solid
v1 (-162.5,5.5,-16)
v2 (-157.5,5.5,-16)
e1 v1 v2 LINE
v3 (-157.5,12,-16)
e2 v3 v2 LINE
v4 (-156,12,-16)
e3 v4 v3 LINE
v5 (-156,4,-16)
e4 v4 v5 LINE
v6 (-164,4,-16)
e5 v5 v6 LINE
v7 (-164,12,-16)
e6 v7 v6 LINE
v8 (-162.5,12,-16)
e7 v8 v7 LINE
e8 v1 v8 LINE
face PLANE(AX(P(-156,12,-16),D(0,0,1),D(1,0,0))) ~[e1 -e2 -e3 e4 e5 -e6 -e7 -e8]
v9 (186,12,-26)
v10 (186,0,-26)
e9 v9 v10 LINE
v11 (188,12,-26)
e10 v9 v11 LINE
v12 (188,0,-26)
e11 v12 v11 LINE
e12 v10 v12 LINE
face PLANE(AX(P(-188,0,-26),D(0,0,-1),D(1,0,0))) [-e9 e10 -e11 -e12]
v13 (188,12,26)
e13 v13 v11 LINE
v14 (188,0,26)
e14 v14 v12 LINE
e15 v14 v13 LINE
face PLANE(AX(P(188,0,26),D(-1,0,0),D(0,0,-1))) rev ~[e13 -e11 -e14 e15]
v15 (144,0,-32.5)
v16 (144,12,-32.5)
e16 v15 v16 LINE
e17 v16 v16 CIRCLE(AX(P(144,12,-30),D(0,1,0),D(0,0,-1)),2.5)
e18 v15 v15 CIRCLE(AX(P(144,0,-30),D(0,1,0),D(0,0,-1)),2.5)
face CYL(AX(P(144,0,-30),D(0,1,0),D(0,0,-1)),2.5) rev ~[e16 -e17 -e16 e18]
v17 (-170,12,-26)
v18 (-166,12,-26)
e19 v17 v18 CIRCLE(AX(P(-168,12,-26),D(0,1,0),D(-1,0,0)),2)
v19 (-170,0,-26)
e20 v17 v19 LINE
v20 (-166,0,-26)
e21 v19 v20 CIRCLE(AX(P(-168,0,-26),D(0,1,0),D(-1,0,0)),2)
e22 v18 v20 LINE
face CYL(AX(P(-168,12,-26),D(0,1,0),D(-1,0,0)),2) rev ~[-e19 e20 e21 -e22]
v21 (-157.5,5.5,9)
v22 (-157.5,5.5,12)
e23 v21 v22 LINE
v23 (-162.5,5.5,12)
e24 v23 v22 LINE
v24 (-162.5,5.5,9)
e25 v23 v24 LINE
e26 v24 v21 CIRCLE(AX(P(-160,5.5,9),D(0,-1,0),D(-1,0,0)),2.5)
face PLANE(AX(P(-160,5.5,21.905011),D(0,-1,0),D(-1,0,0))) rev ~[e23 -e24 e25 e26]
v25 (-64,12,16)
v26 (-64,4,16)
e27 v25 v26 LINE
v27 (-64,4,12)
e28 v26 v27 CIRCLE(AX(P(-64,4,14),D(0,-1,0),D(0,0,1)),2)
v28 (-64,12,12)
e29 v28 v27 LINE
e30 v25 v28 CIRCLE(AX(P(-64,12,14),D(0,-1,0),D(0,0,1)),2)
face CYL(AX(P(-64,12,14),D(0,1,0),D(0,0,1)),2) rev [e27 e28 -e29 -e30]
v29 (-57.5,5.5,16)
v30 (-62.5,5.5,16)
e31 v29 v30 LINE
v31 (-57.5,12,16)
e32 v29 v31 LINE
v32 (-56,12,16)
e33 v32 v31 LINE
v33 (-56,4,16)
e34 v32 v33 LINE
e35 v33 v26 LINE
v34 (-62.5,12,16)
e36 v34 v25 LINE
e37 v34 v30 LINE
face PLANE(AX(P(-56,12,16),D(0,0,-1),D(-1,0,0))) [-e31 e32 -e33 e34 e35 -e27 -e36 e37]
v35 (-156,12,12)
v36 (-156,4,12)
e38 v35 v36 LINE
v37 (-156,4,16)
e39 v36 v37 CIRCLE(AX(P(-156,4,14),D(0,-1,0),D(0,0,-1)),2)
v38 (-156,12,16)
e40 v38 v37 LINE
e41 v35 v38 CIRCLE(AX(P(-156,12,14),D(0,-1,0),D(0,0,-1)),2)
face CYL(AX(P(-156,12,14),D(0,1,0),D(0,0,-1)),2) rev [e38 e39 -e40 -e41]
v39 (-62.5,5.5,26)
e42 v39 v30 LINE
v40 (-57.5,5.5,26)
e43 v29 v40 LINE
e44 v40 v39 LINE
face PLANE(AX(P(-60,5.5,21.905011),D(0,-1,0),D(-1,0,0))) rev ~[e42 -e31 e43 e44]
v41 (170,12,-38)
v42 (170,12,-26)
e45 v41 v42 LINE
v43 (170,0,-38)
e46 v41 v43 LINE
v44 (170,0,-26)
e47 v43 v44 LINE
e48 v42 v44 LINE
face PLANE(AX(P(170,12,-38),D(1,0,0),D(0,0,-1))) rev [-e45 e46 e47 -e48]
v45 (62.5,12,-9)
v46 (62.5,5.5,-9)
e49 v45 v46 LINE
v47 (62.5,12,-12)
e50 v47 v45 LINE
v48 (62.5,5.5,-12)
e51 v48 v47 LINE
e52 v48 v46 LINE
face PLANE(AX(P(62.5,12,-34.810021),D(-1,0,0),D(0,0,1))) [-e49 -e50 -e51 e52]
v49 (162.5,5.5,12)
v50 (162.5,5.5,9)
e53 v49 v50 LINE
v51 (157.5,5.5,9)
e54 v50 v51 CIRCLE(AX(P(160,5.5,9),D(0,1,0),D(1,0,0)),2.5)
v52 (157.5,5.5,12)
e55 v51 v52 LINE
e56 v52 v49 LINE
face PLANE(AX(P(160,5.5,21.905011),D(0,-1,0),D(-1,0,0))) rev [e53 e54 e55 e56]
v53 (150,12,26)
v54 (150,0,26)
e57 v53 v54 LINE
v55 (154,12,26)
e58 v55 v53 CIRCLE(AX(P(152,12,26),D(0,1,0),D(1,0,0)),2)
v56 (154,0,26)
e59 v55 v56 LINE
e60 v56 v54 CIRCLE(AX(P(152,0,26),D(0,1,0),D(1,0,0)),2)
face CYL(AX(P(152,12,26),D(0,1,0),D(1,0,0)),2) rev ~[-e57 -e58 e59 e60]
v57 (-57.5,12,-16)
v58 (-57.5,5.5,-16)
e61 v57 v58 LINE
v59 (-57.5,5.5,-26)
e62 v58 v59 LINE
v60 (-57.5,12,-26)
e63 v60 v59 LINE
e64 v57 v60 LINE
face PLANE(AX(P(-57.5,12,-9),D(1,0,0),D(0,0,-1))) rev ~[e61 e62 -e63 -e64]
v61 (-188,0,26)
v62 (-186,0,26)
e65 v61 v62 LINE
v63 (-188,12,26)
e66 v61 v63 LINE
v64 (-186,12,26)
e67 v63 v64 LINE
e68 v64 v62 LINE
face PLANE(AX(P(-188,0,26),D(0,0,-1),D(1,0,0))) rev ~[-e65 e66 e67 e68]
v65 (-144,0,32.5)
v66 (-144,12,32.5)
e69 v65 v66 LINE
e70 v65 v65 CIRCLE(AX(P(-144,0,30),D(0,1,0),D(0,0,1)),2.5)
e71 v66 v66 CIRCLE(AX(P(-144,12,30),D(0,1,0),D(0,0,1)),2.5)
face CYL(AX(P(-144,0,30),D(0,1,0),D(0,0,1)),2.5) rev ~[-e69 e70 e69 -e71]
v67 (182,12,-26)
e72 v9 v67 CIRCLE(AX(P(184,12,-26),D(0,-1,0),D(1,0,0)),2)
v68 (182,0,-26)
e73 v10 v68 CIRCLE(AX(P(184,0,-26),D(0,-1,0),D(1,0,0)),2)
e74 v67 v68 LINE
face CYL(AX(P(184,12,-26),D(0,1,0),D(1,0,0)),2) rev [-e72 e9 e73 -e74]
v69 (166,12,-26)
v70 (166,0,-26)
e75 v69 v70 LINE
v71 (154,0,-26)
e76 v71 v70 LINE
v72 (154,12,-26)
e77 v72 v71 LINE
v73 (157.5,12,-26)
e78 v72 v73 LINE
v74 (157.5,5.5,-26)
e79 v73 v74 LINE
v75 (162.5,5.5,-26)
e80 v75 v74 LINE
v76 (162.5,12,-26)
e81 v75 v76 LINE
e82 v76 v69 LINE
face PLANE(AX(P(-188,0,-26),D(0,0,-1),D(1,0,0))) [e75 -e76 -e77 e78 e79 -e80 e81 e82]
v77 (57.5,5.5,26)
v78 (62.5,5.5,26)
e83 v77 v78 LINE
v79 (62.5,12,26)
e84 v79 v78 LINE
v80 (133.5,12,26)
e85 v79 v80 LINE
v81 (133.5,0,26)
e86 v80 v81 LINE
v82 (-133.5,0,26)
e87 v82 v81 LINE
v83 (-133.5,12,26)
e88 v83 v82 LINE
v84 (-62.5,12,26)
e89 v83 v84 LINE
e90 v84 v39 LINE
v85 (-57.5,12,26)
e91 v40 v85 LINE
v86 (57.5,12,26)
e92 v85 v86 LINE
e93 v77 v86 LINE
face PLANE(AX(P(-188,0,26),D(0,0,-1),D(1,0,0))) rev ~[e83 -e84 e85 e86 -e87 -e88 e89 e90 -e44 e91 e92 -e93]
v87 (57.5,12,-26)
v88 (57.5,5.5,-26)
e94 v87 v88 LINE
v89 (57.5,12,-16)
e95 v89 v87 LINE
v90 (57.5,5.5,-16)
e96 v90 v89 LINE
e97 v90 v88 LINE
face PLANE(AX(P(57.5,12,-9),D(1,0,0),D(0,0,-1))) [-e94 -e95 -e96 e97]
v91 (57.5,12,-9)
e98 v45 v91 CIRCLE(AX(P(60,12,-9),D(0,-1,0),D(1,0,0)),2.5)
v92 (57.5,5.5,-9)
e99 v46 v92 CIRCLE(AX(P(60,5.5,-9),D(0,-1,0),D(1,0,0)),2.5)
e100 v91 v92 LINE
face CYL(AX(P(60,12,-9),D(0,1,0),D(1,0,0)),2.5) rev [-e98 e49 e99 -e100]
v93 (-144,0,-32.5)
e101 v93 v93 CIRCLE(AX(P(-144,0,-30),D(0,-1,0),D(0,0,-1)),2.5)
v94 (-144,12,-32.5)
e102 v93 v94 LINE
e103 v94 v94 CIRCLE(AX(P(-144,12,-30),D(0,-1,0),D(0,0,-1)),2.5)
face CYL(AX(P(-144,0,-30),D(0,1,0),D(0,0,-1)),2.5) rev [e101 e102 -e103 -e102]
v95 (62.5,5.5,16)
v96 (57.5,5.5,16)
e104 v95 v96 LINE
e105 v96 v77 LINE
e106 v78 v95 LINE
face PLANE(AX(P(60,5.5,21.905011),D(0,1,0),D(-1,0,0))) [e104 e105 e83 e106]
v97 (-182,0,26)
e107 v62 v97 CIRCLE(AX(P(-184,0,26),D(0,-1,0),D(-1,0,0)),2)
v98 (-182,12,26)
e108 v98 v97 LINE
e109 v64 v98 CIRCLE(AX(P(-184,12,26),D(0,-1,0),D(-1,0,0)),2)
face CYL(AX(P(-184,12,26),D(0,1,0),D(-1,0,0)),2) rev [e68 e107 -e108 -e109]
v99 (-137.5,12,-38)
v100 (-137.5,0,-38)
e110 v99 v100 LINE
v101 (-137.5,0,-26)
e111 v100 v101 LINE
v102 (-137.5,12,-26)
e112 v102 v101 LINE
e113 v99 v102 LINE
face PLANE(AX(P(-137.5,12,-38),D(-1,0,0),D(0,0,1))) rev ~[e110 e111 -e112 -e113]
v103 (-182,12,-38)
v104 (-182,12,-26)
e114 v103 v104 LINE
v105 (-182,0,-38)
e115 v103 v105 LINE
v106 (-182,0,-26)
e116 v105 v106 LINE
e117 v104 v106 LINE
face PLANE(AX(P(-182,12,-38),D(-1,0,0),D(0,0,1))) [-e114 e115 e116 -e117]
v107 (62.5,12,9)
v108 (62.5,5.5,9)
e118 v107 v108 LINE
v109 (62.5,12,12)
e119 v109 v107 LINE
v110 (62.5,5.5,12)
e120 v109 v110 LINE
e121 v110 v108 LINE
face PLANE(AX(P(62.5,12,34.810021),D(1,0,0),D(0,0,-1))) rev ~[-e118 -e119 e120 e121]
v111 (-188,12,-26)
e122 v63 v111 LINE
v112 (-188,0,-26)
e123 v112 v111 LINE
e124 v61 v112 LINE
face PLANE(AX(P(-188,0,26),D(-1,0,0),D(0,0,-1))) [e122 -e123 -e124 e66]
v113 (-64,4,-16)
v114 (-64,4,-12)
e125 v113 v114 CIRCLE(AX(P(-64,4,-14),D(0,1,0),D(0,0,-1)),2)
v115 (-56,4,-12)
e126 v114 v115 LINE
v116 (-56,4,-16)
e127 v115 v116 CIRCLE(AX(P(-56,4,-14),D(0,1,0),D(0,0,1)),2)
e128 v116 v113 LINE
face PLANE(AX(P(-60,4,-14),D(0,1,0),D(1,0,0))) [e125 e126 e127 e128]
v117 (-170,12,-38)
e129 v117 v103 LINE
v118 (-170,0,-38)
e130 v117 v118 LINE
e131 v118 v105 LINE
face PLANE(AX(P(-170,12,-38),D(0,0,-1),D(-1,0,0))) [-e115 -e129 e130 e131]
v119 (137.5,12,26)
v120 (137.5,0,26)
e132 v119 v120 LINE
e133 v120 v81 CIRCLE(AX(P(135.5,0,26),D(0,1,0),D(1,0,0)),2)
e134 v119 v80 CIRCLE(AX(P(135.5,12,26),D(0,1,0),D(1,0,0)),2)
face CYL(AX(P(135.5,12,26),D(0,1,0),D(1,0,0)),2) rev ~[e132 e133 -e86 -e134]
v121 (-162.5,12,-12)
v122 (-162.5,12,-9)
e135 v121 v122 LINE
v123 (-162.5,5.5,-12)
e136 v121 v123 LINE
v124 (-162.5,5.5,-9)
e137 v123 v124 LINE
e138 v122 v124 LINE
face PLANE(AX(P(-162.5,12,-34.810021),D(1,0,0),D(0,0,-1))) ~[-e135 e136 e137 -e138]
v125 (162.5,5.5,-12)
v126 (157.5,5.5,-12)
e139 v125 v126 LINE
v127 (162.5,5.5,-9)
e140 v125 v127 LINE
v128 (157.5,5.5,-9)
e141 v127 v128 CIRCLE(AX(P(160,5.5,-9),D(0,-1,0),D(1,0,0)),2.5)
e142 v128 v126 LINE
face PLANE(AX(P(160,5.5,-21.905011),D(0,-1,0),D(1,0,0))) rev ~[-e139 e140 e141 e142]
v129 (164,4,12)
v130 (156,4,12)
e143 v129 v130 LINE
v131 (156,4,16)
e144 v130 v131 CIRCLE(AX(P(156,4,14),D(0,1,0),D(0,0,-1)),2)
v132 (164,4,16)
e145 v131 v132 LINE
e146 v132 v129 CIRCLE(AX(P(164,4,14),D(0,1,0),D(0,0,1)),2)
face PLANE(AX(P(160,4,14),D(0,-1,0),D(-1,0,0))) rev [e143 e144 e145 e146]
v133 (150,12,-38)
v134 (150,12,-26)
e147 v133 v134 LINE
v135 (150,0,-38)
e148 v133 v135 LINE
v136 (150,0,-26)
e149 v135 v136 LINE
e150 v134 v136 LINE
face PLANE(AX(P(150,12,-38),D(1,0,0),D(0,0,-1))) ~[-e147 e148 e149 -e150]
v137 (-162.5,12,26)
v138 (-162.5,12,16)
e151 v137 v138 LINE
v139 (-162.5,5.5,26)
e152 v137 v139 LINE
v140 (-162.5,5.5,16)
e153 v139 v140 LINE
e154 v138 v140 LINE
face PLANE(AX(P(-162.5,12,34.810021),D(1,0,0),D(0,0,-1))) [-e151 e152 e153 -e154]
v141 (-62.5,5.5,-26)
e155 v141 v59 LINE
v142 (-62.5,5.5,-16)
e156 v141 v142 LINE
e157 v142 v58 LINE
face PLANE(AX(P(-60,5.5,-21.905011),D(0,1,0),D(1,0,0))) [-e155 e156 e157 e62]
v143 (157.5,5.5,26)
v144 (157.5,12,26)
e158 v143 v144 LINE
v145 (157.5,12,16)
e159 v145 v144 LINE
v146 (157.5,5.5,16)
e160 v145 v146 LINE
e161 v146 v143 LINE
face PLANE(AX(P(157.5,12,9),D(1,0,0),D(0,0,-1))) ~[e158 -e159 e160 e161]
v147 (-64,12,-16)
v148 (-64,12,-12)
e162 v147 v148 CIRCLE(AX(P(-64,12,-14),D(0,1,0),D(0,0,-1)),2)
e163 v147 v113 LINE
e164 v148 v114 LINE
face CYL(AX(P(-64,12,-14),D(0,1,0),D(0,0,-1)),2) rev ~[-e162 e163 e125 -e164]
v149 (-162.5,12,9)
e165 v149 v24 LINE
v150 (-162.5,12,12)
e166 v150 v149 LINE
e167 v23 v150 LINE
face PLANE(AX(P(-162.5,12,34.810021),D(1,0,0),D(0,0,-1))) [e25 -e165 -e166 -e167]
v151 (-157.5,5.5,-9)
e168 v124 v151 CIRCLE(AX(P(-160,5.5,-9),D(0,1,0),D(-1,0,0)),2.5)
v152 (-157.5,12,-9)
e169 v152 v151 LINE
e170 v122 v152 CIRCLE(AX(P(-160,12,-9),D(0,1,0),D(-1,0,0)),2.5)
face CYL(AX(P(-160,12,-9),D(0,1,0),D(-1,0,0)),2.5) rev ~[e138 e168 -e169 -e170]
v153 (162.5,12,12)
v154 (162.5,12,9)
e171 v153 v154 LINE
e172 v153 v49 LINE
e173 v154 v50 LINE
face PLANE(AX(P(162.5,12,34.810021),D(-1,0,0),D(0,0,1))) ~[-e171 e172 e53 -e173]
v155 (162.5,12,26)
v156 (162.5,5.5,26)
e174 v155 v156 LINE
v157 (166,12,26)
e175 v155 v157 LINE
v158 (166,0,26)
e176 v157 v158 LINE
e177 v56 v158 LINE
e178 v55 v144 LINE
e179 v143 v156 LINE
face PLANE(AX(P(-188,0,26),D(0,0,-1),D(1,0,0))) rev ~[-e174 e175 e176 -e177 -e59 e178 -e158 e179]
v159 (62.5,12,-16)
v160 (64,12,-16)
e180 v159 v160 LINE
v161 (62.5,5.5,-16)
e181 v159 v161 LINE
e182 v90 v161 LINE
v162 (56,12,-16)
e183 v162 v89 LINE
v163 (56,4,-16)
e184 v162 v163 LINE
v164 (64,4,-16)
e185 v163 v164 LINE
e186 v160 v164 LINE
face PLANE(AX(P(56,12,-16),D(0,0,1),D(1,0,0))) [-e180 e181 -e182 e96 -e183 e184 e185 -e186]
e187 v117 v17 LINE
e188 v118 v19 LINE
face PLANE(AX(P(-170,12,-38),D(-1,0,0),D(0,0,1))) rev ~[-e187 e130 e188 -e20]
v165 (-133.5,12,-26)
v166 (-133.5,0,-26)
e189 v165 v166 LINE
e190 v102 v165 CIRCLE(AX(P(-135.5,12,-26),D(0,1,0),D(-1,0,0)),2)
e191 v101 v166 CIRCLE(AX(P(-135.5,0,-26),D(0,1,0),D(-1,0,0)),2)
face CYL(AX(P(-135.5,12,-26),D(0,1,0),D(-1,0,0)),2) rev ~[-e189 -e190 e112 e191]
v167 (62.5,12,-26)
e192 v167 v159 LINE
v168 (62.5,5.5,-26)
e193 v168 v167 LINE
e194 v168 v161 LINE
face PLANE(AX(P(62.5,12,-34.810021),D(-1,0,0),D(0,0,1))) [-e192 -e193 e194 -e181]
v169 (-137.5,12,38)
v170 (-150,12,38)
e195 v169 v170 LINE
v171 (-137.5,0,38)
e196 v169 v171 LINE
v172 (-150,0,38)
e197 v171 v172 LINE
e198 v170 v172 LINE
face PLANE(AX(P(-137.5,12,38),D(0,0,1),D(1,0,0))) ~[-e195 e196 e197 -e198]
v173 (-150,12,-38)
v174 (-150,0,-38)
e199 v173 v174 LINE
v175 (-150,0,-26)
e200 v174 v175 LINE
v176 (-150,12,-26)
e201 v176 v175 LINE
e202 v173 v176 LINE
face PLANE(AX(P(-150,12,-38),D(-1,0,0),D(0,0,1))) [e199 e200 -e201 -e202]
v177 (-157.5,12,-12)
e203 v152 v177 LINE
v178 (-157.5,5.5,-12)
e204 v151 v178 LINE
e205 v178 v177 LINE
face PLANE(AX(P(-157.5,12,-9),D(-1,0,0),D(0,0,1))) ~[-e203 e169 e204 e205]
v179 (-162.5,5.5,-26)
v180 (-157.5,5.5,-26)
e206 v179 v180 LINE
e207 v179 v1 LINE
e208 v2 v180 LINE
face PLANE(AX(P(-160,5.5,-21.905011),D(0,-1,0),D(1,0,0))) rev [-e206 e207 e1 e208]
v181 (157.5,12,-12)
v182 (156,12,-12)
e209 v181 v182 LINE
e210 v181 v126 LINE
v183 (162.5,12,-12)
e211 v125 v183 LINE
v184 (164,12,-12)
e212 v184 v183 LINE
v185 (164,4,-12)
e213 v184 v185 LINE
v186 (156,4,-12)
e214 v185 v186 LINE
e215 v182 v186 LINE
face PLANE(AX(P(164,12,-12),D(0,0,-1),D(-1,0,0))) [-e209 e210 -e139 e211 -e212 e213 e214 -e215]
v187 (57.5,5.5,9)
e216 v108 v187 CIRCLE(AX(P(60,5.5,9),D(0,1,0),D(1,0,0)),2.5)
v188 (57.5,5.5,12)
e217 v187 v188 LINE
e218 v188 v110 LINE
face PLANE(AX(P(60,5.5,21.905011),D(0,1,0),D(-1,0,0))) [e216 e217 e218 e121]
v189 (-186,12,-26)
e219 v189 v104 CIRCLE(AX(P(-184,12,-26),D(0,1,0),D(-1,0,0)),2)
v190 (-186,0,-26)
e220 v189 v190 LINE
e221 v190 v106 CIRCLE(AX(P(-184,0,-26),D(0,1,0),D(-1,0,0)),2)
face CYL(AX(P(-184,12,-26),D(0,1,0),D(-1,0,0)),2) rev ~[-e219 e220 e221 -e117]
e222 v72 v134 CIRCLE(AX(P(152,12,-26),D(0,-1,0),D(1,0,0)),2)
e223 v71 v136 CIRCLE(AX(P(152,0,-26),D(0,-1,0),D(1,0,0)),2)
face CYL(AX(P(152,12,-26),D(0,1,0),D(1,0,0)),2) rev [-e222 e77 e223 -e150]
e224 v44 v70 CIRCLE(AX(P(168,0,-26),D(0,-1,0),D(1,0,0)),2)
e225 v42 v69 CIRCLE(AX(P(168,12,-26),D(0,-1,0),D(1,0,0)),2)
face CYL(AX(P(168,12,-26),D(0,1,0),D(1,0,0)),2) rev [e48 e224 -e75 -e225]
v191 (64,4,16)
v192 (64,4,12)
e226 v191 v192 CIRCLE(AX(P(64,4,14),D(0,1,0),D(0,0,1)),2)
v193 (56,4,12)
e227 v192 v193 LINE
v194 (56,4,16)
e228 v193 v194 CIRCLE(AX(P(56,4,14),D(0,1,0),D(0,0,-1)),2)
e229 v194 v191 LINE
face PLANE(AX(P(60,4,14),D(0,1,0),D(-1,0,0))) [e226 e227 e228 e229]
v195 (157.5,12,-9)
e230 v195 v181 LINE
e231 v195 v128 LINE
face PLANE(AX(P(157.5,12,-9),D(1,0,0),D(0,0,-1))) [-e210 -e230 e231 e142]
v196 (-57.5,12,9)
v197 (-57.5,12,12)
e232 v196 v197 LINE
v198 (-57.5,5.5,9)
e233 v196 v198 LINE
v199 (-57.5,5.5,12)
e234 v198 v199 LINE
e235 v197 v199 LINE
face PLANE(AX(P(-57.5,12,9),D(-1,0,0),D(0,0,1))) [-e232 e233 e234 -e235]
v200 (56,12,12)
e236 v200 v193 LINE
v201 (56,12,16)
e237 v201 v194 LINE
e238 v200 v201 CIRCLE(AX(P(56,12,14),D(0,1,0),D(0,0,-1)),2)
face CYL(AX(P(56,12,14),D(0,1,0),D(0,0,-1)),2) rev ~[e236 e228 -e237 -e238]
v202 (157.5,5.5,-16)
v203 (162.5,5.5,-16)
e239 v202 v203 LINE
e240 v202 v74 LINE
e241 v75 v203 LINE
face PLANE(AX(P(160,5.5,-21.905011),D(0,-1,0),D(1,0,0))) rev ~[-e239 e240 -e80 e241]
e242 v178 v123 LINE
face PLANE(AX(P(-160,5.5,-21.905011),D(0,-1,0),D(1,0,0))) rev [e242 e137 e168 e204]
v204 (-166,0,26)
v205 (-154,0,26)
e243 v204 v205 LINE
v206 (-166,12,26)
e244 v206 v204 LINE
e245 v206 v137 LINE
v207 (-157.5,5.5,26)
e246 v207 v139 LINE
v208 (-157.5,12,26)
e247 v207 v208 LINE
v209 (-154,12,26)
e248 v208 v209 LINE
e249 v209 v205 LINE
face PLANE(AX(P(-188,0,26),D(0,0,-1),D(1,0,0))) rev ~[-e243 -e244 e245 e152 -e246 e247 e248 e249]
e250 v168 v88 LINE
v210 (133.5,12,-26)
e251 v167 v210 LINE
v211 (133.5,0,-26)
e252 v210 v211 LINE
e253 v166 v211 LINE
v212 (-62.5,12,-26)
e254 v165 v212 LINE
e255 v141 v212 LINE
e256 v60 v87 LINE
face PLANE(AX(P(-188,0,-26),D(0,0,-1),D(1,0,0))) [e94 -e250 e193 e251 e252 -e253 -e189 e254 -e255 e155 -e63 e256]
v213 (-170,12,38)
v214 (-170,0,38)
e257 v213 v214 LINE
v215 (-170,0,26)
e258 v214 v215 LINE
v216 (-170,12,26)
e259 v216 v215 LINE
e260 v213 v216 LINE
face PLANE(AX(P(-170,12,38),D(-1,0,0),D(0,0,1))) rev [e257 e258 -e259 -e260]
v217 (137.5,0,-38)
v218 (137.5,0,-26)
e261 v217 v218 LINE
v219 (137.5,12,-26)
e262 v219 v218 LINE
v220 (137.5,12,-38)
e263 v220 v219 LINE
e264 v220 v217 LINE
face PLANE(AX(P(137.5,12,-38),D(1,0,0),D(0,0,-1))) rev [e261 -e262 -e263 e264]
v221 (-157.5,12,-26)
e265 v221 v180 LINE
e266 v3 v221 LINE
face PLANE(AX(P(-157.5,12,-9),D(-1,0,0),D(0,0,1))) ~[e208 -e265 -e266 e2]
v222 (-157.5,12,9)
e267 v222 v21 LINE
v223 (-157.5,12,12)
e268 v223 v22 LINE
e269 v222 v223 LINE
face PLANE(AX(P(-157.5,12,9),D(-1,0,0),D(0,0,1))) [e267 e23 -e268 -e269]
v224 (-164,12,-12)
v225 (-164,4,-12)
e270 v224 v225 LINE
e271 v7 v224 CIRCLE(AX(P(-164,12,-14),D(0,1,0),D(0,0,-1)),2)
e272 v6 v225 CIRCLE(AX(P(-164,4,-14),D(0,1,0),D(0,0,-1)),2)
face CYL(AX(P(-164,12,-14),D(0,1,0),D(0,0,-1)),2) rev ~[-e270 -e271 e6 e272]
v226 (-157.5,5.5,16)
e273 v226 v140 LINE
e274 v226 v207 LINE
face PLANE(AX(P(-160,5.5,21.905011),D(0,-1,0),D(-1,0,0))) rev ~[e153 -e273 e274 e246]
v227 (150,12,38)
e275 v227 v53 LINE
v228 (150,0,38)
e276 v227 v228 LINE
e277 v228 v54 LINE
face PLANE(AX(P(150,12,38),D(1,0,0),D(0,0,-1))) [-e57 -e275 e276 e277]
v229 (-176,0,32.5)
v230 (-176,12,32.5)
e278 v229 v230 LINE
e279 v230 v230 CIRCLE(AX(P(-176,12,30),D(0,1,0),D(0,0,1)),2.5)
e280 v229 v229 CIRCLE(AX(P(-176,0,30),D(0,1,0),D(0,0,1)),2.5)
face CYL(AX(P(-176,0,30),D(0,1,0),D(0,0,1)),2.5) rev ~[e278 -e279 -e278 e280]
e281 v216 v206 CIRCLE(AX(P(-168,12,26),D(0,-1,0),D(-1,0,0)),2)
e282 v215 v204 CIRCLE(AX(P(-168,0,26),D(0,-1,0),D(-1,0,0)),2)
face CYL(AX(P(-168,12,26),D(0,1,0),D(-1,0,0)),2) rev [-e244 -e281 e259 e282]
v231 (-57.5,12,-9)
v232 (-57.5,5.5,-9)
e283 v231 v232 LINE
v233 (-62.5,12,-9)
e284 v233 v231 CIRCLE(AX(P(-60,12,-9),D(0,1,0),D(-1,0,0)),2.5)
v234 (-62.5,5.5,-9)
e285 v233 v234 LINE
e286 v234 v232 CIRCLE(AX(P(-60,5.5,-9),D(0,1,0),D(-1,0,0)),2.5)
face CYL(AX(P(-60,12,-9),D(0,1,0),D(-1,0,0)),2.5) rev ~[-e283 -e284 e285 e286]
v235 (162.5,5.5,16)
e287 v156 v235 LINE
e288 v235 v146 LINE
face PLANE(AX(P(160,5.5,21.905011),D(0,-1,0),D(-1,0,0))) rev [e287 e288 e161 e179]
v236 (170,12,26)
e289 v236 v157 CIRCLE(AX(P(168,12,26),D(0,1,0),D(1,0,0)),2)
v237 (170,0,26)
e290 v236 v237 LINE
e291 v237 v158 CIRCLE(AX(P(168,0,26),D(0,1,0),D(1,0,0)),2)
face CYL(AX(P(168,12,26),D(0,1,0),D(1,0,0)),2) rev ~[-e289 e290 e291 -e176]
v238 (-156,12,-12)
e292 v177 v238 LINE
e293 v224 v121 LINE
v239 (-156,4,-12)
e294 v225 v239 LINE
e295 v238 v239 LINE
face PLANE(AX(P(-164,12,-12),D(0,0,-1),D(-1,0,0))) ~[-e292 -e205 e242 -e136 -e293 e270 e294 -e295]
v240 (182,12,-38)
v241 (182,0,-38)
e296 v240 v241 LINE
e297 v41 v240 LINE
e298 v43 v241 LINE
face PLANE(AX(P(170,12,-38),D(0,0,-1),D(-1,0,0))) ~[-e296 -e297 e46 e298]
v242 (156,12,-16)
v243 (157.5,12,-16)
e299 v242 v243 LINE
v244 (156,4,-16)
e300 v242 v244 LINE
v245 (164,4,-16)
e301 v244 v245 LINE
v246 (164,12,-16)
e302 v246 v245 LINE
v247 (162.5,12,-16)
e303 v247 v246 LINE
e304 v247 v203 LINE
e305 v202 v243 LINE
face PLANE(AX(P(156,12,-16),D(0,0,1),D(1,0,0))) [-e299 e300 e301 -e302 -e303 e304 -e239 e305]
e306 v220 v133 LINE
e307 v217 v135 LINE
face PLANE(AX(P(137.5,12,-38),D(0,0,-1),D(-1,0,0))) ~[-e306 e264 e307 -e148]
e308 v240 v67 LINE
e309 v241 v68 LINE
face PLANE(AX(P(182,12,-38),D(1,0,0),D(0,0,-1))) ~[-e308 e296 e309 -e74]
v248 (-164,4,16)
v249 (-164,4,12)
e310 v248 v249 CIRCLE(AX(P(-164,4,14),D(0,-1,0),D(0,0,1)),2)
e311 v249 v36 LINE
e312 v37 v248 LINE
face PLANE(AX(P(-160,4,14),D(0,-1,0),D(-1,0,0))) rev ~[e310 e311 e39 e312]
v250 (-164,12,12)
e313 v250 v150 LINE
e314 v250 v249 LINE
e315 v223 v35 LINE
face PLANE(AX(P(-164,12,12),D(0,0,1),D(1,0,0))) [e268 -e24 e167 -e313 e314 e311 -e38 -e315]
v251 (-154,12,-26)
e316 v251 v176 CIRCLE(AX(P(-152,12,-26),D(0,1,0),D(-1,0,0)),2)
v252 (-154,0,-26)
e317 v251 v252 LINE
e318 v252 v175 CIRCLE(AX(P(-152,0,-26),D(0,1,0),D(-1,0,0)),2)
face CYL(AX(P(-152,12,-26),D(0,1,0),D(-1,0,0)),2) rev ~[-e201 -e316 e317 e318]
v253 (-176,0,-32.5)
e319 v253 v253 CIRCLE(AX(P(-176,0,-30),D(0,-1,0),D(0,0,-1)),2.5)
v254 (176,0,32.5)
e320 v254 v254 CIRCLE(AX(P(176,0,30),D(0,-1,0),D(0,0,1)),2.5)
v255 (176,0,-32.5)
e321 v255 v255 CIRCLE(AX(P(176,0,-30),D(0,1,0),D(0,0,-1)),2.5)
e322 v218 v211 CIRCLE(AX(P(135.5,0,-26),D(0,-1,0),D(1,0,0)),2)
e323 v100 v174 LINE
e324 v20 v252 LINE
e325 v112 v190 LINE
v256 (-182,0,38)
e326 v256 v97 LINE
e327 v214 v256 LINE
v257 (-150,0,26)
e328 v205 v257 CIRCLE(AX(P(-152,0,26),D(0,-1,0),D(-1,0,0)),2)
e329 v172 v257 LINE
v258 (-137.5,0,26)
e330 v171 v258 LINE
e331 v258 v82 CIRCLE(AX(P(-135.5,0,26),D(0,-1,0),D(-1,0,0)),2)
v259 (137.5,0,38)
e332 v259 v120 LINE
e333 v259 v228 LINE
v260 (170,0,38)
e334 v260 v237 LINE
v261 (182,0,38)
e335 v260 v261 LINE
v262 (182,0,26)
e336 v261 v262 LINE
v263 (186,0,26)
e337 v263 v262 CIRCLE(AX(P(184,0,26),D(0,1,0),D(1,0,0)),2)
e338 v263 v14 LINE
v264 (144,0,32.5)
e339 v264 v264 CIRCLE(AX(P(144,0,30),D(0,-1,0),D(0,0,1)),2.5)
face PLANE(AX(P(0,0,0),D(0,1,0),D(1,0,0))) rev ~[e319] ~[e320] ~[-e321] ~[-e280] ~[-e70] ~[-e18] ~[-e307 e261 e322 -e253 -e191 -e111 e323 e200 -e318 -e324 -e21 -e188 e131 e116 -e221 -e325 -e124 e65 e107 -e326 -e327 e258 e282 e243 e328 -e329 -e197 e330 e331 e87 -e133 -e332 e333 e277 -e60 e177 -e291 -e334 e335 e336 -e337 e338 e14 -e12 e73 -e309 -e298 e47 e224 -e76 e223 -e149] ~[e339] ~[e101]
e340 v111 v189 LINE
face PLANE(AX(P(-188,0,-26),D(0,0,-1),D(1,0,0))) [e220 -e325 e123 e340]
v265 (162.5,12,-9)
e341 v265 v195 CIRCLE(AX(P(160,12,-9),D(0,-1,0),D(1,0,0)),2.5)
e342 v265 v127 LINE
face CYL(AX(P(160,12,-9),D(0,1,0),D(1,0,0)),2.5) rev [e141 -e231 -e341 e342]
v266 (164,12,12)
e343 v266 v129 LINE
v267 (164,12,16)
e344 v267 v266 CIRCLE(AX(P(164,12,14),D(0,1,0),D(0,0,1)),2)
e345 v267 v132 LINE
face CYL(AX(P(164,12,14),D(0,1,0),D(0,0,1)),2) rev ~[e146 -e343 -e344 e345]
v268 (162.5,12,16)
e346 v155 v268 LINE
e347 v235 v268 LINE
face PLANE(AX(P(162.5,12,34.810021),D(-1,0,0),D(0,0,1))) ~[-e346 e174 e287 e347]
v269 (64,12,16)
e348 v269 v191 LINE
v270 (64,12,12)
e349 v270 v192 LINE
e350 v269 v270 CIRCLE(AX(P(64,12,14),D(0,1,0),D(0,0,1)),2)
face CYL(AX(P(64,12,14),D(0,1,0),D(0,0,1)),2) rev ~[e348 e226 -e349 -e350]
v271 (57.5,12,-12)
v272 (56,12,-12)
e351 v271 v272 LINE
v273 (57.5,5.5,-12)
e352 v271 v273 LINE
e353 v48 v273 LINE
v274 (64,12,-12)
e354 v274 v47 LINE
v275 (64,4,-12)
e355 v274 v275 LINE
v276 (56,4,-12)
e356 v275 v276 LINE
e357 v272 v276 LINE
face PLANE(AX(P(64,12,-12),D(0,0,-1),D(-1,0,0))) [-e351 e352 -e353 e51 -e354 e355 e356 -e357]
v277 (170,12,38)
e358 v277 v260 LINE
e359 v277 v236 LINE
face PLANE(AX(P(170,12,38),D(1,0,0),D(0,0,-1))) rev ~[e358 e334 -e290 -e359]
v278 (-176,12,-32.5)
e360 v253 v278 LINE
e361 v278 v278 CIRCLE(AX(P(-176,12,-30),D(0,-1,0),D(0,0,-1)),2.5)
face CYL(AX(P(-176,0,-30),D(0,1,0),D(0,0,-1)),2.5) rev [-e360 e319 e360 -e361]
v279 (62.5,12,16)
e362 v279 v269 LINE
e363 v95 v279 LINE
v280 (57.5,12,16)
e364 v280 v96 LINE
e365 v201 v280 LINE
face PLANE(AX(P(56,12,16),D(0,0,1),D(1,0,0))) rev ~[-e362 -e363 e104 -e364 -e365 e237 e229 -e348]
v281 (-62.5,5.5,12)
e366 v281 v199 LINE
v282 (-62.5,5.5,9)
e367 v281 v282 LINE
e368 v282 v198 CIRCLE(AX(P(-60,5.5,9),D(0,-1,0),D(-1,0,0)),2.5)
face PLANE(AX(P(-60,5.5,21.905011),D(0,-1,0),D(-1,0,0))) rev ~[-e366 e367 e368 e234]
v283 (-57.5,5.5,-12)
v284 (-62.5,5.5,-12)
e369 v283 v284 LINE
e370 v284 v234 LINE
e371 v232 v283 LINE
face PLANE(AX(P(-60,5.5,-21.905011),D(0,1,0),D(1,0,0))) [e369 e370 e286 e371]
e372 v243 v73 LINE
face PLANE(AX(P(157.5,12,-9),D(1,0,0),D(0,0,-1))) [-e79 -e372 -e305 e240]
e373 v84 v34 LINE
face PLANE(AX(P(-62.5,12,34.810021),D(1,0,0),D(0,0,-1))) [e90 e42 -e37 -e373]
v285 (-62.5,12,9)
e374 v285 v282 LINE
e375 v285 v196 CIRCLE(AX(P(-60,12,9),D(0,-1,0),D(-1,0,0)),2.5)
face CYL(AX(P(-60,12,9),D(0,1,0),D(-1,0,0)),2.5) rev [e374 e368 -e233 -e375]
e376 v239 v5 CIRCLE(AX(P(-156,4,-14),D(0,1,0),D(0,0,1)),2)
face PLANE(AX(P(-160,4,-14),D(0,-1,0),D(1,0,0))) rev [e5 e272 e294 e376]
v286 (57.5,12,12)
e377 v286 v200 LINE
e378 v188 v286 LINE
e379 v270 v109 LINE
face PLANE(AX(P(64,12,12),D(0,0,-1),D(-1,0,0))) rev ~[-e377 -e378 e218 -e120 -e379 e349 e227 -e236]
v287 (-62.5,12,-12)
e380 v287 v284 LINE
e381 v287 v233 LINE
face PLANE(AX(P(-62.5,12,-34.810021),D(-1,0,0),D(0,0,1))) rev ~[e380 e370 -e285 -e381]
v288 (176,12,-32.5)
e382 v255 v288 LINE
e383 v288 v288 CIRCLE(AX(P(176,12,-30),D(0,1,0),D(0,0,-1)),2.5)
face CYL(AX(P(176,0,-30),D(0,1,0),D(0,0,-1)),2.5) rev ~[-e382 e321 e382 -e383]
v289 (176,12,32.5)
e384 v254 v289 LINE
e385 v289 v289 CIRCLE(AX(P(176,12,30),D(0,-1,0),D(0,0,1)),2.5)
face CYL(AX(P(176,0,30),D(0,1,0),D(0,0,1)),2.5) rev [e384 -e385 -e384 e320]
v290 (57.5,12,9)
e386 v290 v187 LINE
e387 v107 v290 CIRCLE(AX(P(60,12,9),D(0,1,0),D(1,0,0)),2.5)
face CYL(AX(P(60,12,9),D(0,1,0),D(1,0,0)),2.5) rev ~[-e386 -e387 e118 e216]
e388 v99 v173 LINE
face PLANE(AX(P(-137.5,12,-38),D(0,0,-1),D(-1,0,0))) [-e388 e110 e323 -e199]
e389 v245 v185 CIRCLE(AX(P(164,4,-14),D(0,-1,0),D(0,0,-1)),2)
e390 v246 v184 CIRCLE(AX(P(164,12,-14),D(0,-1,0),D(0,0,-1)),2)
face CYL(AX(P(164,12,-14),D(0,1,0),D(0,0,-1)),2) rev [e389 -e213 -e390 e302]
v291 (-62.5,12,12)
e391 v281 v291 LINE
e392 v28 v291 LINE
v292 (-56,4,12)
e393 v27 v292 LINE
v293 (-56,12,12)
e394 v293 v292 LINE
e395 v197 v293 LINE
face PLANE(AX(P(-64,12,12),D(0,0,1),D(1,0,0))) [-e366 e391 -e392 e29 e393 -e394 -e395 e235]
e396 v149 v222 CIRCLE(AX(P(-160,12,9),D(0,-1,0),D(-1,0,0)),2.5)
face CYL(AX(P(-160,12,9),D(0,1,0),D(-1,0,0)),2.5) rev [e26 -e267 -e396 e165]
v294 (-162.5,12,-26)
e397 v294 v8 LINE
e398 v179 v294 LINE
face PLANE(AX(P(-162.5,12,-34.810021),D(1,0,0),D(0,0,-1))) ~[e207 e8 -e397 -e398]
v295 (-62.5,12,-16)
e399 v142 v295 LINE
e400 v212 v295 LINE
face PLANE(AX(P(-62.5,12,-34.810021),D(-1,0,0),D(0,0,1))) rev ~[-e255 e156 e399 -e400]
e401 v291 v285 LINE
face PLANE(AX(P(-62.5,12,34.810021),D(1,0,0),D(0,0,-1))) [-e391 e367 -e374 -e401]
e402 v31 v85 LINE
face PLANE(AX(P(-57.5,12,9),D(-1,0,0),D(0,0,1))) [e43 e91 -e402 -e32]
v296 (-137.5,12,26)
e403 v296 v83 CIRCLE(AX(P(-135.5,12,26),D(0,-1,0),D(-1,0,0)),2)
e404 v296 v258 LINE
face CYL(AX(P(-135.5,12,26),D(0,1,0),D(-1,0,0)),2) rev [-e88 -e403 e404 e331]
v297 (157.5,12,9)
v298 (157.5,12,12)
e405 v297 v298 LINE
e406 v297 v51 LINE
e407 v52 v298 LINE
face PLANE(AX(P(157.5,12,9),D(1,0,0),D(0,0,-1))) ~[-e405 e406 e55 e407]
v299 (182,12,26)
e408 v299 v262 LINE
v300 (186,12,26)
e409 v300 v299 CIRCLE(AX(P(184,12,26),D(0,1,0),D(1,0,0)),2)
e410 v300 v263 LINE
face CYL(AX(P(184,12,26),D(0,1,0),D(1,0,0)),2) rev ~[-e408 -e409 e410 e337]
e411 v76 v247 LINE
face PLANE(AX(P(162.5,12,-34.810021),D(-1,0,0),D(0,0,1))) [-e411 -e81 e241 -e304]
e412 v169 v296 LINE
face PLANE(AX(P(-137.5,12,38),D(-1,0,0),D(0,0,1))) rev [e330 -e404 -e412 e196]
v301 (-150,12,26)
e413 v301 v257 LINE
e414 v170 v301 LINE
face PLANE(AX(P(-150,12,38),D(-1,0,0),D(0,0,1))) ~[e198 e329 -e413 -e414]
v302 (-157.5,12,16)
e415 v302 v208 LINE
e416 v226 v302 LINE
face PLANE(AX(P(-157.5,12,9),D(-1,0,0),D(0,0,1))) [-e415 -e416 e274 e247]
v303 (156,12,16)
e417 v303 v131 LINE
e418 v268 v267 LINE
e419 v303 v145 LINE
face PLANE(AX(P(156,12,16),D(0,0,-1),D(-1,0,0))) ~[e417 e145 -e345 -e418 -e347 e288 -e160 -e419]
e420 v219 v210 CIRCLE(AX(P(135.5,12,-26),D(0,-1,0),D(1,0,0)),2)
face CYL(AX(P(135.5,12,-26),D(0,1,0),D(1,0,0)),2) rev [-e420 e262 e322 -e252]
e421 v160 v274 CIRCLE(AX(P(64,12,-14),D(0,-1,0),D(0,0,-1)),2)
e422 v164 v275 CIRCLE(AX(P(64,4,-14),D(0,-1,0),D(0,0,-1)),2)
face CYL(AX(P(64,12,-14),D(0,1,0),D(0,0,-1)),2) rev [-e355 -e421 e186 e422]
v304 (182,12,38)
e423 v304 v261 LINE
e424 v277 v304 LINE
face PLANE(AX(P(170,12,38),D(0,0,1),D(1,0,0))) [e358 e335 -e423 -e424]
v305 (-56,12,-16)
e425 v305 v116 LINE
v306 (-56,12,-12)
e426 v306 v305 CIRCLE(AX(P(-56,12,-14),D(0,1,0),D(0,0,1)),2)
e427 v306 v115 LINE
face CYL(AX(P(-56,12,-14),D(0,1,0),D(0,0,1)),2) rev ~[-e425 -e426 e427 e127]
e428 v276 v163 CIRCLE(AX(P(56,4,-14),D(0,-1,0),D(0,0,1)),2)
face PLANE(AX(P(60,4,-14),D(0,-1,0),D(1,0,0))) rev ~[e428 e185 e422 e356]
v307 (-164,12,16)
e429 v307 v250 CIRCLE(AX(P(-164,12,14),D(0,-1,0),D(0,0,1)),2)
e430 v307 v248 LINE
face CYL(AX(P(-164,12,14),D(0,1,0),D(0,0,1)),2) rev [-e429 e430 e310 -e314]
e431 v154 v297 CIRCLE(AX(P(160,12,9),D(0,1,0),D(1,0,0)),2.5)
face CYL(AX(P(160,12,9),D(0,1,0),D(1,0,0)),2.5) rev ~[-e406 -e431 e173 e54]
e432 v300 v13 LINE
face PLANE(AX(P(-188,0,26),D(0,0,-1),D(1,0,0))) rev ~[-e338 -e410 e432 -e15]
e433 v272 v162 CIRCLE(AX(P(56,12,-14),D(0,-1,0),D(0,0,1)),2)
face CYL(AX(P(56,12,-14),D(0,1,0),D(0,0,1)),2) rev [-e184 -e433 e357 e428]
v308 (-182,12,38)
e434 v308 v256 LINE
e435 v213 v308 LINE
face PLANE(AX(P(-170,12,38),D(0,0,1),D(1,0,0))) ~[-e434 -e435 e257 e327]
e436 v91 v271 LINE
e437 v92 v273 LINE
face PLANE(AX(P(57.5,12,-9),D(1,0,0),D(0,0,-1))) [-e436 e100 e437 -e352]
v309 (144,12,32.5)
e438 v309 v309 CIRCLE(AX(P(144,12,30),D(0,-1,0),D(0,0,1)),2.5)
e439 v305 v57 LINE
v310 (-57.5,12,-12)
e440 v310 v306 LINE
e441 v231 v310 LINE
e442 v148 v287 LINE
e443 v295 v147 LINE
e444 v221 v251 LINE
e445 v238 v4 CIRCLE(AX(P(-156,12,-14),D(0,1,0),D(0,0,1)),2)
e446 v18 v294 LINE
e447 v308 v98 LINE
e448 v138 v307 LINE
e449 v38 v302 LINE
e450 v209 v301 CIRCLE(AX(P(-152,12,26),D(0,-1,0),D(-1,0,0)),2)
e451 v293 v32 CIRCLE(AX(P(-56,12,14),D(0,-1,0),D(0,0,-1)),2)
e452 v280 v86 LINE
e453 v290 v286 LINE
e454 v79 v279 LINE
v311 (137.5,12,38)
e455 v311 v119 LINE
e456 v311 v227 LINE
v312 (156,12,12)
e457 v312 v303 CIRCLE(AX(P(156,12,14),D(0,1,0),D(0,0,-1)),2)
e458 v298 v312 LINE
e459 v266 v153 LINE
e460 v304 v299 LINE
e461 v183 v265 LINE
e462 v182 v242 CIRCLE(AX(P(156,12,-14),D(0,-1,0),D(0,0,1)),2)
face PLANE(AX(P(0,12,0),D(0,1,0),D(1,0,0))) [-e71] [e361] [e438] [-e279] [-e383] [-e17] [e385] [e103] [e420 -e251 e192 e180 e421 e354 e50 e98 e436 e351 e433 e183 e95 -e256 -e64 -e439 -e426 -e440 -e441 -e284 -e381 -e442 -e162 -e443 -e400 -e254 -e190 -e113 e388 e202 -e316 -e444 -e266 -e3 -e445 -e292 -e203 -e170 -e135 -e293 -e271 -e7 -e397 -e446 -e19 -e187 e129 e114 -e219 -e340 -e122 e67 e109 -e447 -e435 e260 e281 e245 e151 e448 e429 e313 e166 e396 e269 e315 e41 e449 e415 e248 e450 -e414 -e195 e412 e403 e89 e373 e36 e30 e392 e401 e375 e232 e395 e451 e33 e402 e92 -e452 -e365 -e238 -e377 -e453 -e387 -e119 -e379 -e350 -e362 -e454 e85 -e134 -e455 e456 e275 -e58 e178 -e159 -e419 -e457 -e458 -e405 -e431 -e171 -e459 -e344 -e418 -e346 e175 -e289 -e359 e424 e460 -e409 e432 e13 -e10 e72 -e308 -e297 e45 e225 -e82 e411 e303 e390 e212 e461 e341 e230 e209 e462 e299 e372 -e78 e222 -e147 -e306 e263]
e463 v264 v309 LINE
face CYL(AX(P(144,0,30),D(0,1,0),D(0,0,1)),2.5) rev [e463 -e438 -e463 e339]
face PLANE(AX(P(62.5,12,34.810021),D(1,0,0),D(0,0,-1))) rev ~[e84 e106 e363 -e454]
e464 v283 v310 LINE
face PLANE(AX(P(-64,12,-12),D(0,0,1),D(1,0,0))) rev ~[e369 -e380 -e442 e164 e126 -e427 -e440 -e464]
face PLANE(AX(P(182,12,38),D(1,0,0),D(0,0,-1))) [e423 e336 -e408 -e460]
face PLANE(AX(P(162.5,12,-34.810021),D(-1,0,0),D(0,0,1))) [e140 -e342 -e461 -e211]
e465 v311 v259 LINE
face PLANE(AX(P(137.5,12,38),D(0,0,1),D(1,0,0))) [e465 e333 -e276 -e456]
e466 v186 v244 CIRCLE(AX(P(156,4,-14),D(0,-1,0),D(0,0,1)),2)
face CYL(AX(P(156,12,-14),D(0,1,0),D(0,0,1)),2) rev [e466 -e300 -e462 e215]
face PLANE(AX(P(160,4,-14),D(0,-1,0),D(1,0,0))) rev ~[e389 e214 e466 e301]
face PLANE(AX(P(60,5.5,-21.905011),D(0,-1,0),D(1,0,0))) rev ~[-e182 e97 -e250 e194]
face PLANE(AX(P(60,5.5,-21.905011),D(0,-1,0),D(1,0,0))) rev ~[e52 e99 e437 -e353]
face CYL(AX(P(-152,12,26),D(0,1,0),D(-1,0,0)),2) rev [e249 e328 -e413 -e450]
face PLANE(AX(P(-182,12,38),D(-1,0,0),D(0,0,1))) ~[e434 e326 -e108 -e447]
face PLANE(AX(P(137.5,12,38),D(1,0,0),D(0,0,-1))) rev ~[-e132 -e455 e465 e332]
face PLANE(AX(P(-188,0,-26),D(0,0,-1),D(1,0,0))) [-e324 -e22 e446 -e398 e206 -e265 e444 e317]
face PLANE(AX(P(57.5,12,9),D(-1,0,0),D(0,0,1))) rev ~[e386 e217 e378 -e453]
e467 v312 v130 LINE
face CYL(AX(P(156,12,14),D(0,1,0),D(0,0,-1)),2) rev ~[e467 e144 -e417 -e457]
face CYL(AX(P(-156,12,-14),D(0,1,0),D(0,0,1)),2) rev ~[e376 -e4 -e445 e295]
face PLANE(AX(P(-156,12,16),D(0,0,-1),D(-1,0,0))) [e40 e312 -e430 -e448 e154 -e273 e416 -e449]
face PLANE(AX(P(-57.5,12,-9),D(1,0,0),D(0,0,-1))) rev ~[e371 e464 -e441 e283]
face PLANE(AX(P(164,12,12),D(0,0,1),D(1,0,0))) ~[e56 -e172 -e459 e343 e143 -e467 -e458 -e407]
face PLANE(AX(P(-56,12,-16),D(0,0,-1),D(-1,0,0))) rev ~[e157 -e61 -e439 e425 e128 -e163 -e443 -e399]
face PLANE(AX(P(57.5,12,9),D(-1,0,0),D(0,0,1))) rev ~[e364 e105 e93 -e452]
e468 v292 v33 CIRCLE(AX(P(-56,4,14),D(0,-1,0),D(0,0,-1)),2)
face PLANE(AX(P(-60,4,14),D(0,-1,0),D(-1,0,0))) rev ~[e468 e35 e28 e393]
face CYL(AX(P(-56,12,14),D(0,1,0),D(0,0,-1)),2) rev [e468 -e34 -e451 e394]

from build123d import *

# Parameters (mm, degrees)
SKETCH1_W                         = 376
SKETCH1_H                         = 52
BOSS_EXTRUDE1_DEPTH               = 12
SKETCH6_W                         = 12.5
SKETCH6_H                         = 12
SKETCH6_W_2                       = 12
BOSS_EXTRUDE2_DEPTH               = 12
F_5_0_5_DIAMETER_HOLE1_AT_2_COUNT = 2
F_5_0_5_DIAMETER_HOLE1_AT_2_PITCH = 32
MIRROR4_COPY_2_SKETCH_W           = 12.5
MIRROR4_COPY_2_SKETCH_H           = 12
MIRROR4_COPY_2_SKETCH_W_2         = 12
MIRROR4_COPY_2_DEPTH              = 12
CUT_EXTRUDE2_DEPTH                = 8
CUT_EXTRUDE5_DEPTH                = 6.5
CUT_EXTRUDE1_REACH                = 194.177
LPATTERN1_COUNT                   = 2
LPATTERN1_PITCH                   = 100
MIRROR1_COPY_1_DEPTH              = 8
MIRROR1_COPY_2_DEPTH              = 6.5
MIRROR2_COPY_1_DEPTH              = 8
MIRROR2_COPY_2_DEPTH              = 6.5
MIRROR2_COPY_3_DEPTH              = 8
MIRROR2_COPY_4_DEPTH              = 6.5
MIRROR2_COPY_5_REACH              = 194.177
MIRROR2_COPY_6_DEPTH              = 8
MIRROR2_COPY_7_DEPTH              = 6.5


with BuildPart() as part:
    # Sketch1 → Boss-Extrude1 (new body)
    with BuildSketch(Plane(origin=(0, 0, 0), x_dir=(1, 0, 0), z_dir=(0, 1, 0))):
        Rectangle(SKETCH1_W, SKETCH1_H)
    extrude(amount=BOSS_EXTRUDE1_DEPTH)

    # Sketch6 → Boss-Extrude2 (add)
    with BuildSketch(Plane(origin=(0, 12, 0), x_dir=(1, 0, 0), z_dir=(0, 1, 0))):
        with Locations((143.75, -32)):
            Rectangle(SKETCH6_W, SKETCH6_H)
        with Locations((176, -32)):
            Rectangle(SKETCH6_W_2, SKETCH6_H)
    boss_extrude2 = extrude(amount=-BOSS_EXTRUDE2_DEPTH)

    # Sketch12 → Ø5.0 (5) Diameter Hole1 (revolve, cut)
    with BuildSketch(Plane(origin=(176, 12, 30), x_dir=(0, 0, 1), z_dir=(1, 0, 0))):
        Polygon((0, 0), (0, 13.502151548), (2.5, 12), (2.5, 0), align=None)
    f_5_0_5_diameter_hole1 = revolve(axis=Axis((176, 18.35, 30), (0, -1, 0)), mode=Mode.SUBTRACT)

    # Ø5.0 (5) Diameter Hole1 at 2: Ø5.0 (5) Diameter Hole1 ×2
    with Locations(*[(-i * F_5_0_5_DIAMETER_HOLE1_AT_2_PITCH, 0, 0) for i in range(1, F_5_0_5_DIAMETER_HOLE1_AT_2_COUNT)]):
        add(f_5_0_5_diameter_hole1, mode=Mode.SUBTRACT)

    # Mirror3: Boss-Extrude2, Ø5.0 (5) Diameter Hole1 across plane
    add(boss_extrude2.mirror(Plane.XY))
    add(f_5_0_5_diameter_hole1.mirror(Plane.XY), mode=Mode.SUBTRACT)

    # Mirror3 copy 1 sketch → Mirror3 copy 1 (revolve, cut)
    with BuildSketch(Plane(origin=(144, 12, -30), x_dir=(0, 0, -1), z_dir=(1, 0, 0))):
        Polygon((0, 0), (0, -13.502151548), (2.5, -12), (2.5, 0), align=None)
    revolve(axis=Axis((144, 18.35, -30), (0, 1, 0)), mode=Mode.SUBTRACT)

    # Mirror4: Boss-Extrude2, Ø5.0 (5) Diameter Hole1 across plane
    add(boss_extrude2.mirror(Plane(origin=(0, 0, 0), x_dir=(0, 0, 1), z_dir=(1, 0, 0))))
    add(f_5_0_5_diameter_hole1.mirror(Plane(origin=(0, 0, 0), x_dir=(0, 0, 1), z_dir=(1, 0, 0))), mode=Mode.SUBTRACT)

    # Mirror4 copy 1 sketch → Mirror4 copy 1 (revolve, cut)
    with BuildSketch(Plane(origin=(-144, 12, 30), x_dir=(0, 0, 1), z_dir=(-1, 0, 0))):
        Polygon((0, 0), (0, -13.502151548), (2.5, -12), (2.5, 0), align=None)
    revolve(axis=Axis((-144, 18.35, 30), (0, 1, 0)), mode=Mode.SUBTRACT)

    # Mirror4 copy 2 sketch → Mirror4 copy 2 (add)
    with BuildSketch(Plane(origin=(0, 12, 0), x_dir=(-1, 0, 0), z_dir=(0, 1, 0))):
        with Locations((143.75, -32)):
            Rectangle(MIRROR4_COPY_2_SKETCH_W, MIRROR4_COPY_2_SKETCH_H)
        with Locations((176, -32)):
            Rectangle(MIRROR4_COPY_2_SKETCH_W_2, MIRROR4_COPY_2_SKETCH_H)
    extrude(amount=-MIRROR4_COPY_2_DEPTH)

    # Mirror4 copy 3 sketch → Mirror4 copy 3 (revolve, cut)
    with BuildSketch(Plane(origin=(-176, 12, -30), x_dir=(0, 0, -1), z_dir=(-1, 0, 0))):
        Polygon((0, 0), (0, 13.502151548), (2.5, 12), (2.5, 0), align=None)
    revolve(axis=Axis((-176, 18.35, -30), (0, -1, 0)), mode=Mode.SUBTRACT)

    # Mirror4 copy 4 sketch → Mirror4 copy 4 (revolve, cut)
    with BuildSketch(Plane(origin=(-144, 12, -30), x_dir=(0, 0, -1), z_dir=(-1, 0, 0))):
        Polygon((0, 0), (0, 13.502151548), (2.5, 12), (2.5, 0), align=None)
    revolve(axis=Axis((-144, 18.35, -30), (0, -1, 0)), mode=Mode.SUBTRACT)

    # Sketch8 → Cut-Extrude2 (cut)
    with BuildSketch(Plane(origin=(0, 12, 0), x_dir=(1, 0, 0), z_dir=(0, 1, 0))):
        with BuildLine():
            Line((-164, -12), (-156, -12))
            ThreePointArc((-156, -12), (-154, -14), (-156, -16))
            Line((-156, -16), (-164, -16))
            ThreePointArc((-164, -16), (-166, -14), (-164, -12))
        make_face()
    cut_extrude2 = extrude(amount=-CUT_EXTRUDE2_DEPTH, mode=Mode.SUBTRACT)

    # Sketch11 → Cut-Extrude5 (cut)
    with BuildSketch(Plane(origin=(0, 12, 0), x_dir=(1, 0, 0), z_dir=(0, 1, 0))):
        with BuildLine():
            Line((-157.5, -9), (-157.5, -34.810021273))
            ThreePointArc((-157.5, -34.810021273), (-160, -37.310021273), (-162.5, -34.810021273))
            Line((-162.5, -34.810021273), (-162.5, -9))
            ThreePointArc((-162.5, -9), (-160, -6.5), (-157.5, -9))
        make_face()
    cut_extrude5 = extrude(amount=-CUT_EXTRUDE5_DEPTH, mode=Mode.SUBTRACT)

    # Sketch7 → Cut-Extrude1 (cut, up to next)
    with BuildSketch(Plane(origin=(0, 12, 0), x_dir=(1, 0, 0), z_dir=(0, 1, 0)), mode=Mode.PRIVATE) as cut_extrude1_sk1:
        with BuildLine():
            Line((133.5, -26), (137.5, -26))
            ThreePointArc((137.5, -26), (135.5, -24), (133.5, -26))
        make_face()
    cut_extrude1_tool1 = extrude(cut_extrude1_sk1.sketch, amount=-CUT_EXTRUDE1_REACH, mode=Mode.PRIVATE) & part.part
    # Sketch7 → Cut-Extrude1 (cut, up to next)
    with BuildSketch(Plane(origin=(0, 12, 0), x_dir=(1, 0, 0), z_dir=(0, 1, 0)), mode=Mode.PRIVATE) as cut_extrude1_sk2:
        with BuildLine():
            Line((150, -26), (154, -26))
            ThreePointArc((154, -26), (152, -24), (150, -26))
        make_face()
    cut_extrude1_tool2 = extrude(cut_extrude1_sk2.sketch, amount=-CUT_EXTRUDE1_REACH, mode=Mode.PRIVATE) & part.part
    # Sketch7 → Cut-Extrude1 (cut, up to next)
    with BuildSketch(Plane(origin=(0, 12, 0), x_dir=(1, 0, 0), z_dir=(0, 1, 0)), mode=Mode.PRIVATE) as cut_extrude1_sk3:
        with BuildLine():
            Line((166, -26), (170, -26))
            ThreePointArc((170, -26), (168, -24), (166, -26))
        make_face()
    cut_extrude1_tool3 = extrude(cut_extrude1_sk3.sketch, amount=-CUT_EXTRUDE1_REACH, mode=Mode.PRIVATE) & part.part
    # Sketch7 → Cut-Extrude1 (cut, up to next)
    with BuildSketch(Plane(origin=(0, 12, 0), x_dir=(1, 0, 0), z_dir=(0, 1, 0)), mode=Mode.PRIVATE) as cut_extrude1_sk4:
        with BuildLine():
            Line((182, -26), (186, -26))
            ThreePointArc((186, -26), (184, -24), (182, -26))
        make_face()
    cut_extrude1_tool4 = extrude(cut_extrude1_sk4.sketch, amount=-CUT_EXTRUDE1_REACH, mode=Mode.PRIVATE) & part.part
    cut_extrude1_1 = cut_extrude1_tool1.solids().sort_by_distance((135.5, 12, 25.151174))[0]
    add(cut_extrude1_1, mode=Mode.SUBTRACT)
    cut_extrude1_2 = cut_extrude1_tool2.solids().sort_by_distance((152, 12, 25.151174))[0]
    add(cut_extrude1_2, mode=Mode.SUBTRACT)
    cut_extrude1_3 = cut_extrude1_tool3.solids().sort_by_distance((168, 12, 25.151174))[0]
    add(cut_extrude1_3, mode=Mode.SUBTRACT)
    cut_extrude1_4 = cut_extrude1_tool4.solids().sort_by_distance((184, 12, 25.151174))[0]
    add(cut_extrude1_4, mode=Mode.SUBTRACT)
    cut_extrude1 = cut_extrude1_1 + cut_extrude1_2 + cut_extrude1_3 + cut_extrude1_4  # Cut-Extrude1 as one shape, for the pattern or mirror that repeats it

    # LPattern1: Cut-Extrude2, Cut-Extrude5 ×2
    with Locations(*[(i * LPATTERN1_PITCH, 0, 0) for i in range(1, LPATTERN1_COUNT)]):
        add(cut_extrude2, mode=Mode.SUBTRACT)
        add(cut_extrude5, mode=Mode.SUBTRACT)

    # Mirror1: Cut-Extrude2, Cut-Extrude5, Cut-Extrude1 across plane
    add(cut_extrude2.mirror(Plane(origin=(0, 0, 0), x_dir=(0, 0, 1), z_dir=(1, 0, 0))), mode=Mode.SUBTRACT)
    add(cut_extrude5.mirror(Plane(origin=(0, 0, 0), x_dir=(0, 0, 1), z_dir=(1, 0, 0))), mode=Mode.SUBTRACT)
    add(cut_extrude1.mirror(Plane(origin=(0, 0, 0), x_dir=(0, 0, 1), z_dir=(1, 0, 0))), mode=Mode.SUBTRACT)

    # Mirror1 copy 1 sketch → Mirror1 copy 1 (cut)
    with BuildSketch(Plane(origin=(-100, 12, 0), x_dir=(-1, 0, 0), z_dir=(0, 1, 0))):
        with BuildLine():
            Line((-164, 12), (-156, 12))
            ThreePointArc((-156, 12), (-154, 14), (-156, 16))
            Line((-156, 16), (-164, 16))
            ThreePointArc((-164, 16), (-166, 14), (-164, 12))
        make_face()
    extrude(amount=-MIRROR1_COPY_1_DEPTH, mode=Mode.SUBTRACT)

    # Mirror1 copy 2 sketch → Mirror1 copy 2 (cut)
    with BuildSketch(Plane(origin=(-100, 12, 0), x_dir=(-1, 0, 0), z_dir=(0, 1, 0))):
        with BuildLine():
            Line((-157.5, 9), (-157.5, 34.810021273))
            ThreePointArc((-157.5, 34.810021273), (-160, 37.310021273), (-162.5, 34.810021273))
            Line((-162.5, 34.810021273), (-162.5, 9))
            ThreePointArc((-162.5, 9), (-160, 6.5), (-157.5, 9))
        make_face()
    extrude(amount=-MIRROR1_COPY_2_DEPTH, mode=Mode.SUBTRACT)

    # Mirror2: Cut-Extrude2, Cut-Extrude5, Cut-Extrude1 across plane
    add(cut_extrude2.mirror(Plane.XY), mode=Mode.SUBTRACT)
    add(cut_extrude5.mirror(Plane.XY), mode=Mode.SUBTRACT)
    add(cut_extrude1.mirror(Plane.XY), mode=Mode.SUBTRACT)

    # Mirror2 copy 1 sketch → Mirror2 copy 1 (cut)
    with BuildSketch(Plane(origin=(100, 12, 0), x_dir=(1, 0, 0), z_dir=(0, 1, 0))):
        with BuildLine():
            Line((-164, 12), (-156, 12))
            ThreePointArc((-156, 12), (-154, 14), (-156, 16))
            Line((-156, 16), (-164, 16))
            ThreePointArc((-164, 16), (-166, 14), (-164, 12))
        make_face()
    extrude(amount=-MIRROR2_COPY_1_DEPTH, mode=Mode.SUBTRACT)

    # Mirror2 copy 2 sketch → Mirror2 copy 2 (cut)
    with BuildSketch(Plane(origin=(100, 12, 0), x_dir=(1, 0, 0), z_dir=(0, 1, 0))):
        with BuildLine():
            Line((-157.5, 9), (-157.5, 34.810021273))
            ThreePointArc((-157.5, 34.810021273), (-160, 37.310021273), (-162.5, 34.810021273))
            Line((-162.5, 34.810021273), (-162.5, 9))
            ThreePointArc((-162.5, 9), (-160, 6.5), (-157.5, 9))
        make_face()
    extrude(amount=-MIRROR2_COPY_2_DEPTH, mode=Mode.SUBTRACT)

    # Mirror2 copy 3 sketch → Mirror2 copy 3 (cut)
    with BuildSketch(Plane(origin=(0, 12, 0), x_dir=(-1, 0, 0), z_dir=(0, 1, 0))):
        with BuildLine():
            Line((-164, -12), (-156, -12))
            ThreePointArc((-156, -12), (-154, -14), (-156, -16))
            Line((-156, -16), (-164, -16))
            ThreePointArc((-164, -16), (-166, -14), (-164, -12))
        make_face()
    extrude(amount=-MIRROR2_COPY_3_DEPTH, mode=Mode.SUBTRACT)

    # Mirror2 copy 4 sketch → Mirror2 copy 4 (cut)
    with BuildSketch(Plane(origin=(0, 12, 0), x_dir=(-1, 0, 0), z_dir=(0, 1, 0))):
        with BuildLine():
            Line((-157.5, -9), (-157.5, -34.810021273))
            ThreePointArc((-157.5, -34.810021273), (-160, -37.310021273), (-162.5, -34.810021273))
            Line((-162.5, -34.810021273), (-162.5, -9))
            ThreePointArc((-162.5, -9), (-160, -6.5), (-157.5, -9))
        make_face()
    extrude(amount=-MIRROR2_COPY_4_DEPTH, mode=Mode.SUBTRACT)

    # Mirror2 copy 5 sketch → Mirror2 copy 5 (cut, up to next)
    with BuildSketch(Plane(origin=(0, 12, 0), x_dir=(-1, 0, 0), z_dir=(0, 1, 0)), mode=Mode.PRIVATE) as mirror2_copy_5_sk1:
        with BuildLine():
            Line((133.5, -26), (137.5, -26))
            ThreePointArc((137.5, -26), (135.5, -24), (133.5, -26))
        make_face()
    mirror2_copy_5_tool1 = extrude(mirror2_copy_5_sk1.sketch, amount=-MIRROR2_COPY_5_REACH, mode=Mode.PRIVATE) & part.part
    # Mirror2 copy 5 sketch → Mirror2 copy 5 (cut, up to next)
    with BuildSketch(Plane(origin=(0, 12, 0), x_dir=(-1, 0, 0), z_dir=(0, 1, 0)), mode=Mode.PRIVATE) as mirror2_copy_5_sk2:
        with BuildLine():
            Line((150, -26), (154, -26))
            ThreePointArc((154, -26), (152, -24), (150, -26))
        make_face()
    mirror2_copy_5_tool2 = extrude(mirror2_copy_5_sk2.sketch, amount=-MIRROR2_COPY_5_REACH, mode=Mode.PRIVATE) & part.part
    # Mirror2 copy 5 sketch → Mirror2 copy 5 (cut, up to next)
    with BuildSketch(Plane(origin=(0, 12, 0), x_dir=(-1, 0, 0), z_dir=(0, 1, 0)), mode=Mode.PRIVATE) as mirror2_copy_5_sk3:
        with BuildLine():
            Line((166, -26), (170, -26))
            ThreePointArc((170, -26), (168, -24), (166, -26))
        make_face()
    mirror2_copy_5_tool3 = extrude(mirror2_copy_5_sk3.sketch, amount=-MIRROR2_COPY_5_REACH, mode=Mode.PRIVATE) & part.part
    # Mirror2 copy 5 sketch → Mirror2 copy 5 (cut, up to next)
    with BuildSketch(Plane(origin=(0, 12, 0), x_dir=(-1, 0, 0), z_dir=(0, 1, 0)), mode=Mode.PRIVATE) as mirror2_copy_5_sk4:
        with BuildLine():
            Line((182, -26), (186, -26))
            ThreePointArc((186, -26), (184, -24), (182, -26))
        make_face()
    mirror2_copy_5_tool4 = extrude(mirror2_copy_5_sk4.sketch, amount=-MIRROR2_COPY_5_REACH, mode=Mode.PRIVATE) & part.part
    add(mirror2_copy_5_tool1.solids().sort_by_distance((-135.5, 12, -25.151174))[0], mode=Mode.SUBTRACT)
    add(mirror2_copy_5_tool2.solids().sort_by_distance((-152, 12, -25.151174))[0], mode=Mode.SUBTRACT)
    add(mirror2_copy_5_tool3.solids().sort_by_distance((-168, 12, -25.151174))[0], mode=Mode.SUBTRACT)
    add(mirror2_copy_5_tool4.solids().sort_by_distance((-184, 12, -25.151174))[0], mode=Mode.SUBTRACT)

    # Mirror2 copy 6 sketch → Mirror2 copy 6 (cut)
    with BuildSketch(Plane(origin=(-100, 12, 0), x_dir=(-1, 0, 0), z_dir=(0, 1, 0))):
        with BuildLine():
            Line((-164, -12), (-156, -12))
            ThreePointArc((-156, -12), (-154, -14), (-156, -16))
            Line((-156, -16), (-164, -16))
            ThreePointArc((-164, -16), (-166, -14), (-164, -12))
        make_face()
    extrude(amount=-MIRROR2_COPY_6_DEPTH, mode=Mode.SUBTRACT)

    # Mirror2 copy 7 sketch → Mirror2 copy 7 (cut)
    with BuildSketch(Plane(origin=(-100, 12, 0), x_dir=(-1, 0, 0), z_dir=(0, 1, 0))):
        with BuildLine():
            Line((-157.5, -9), (-157.5, -34.810021273))
            ThreePointArc((-157.5, -34.810021273), (-160, -37.310021273), (-162.5, -34.810021273))
            Line((-162.5, -34.810021273), (-162.5, -9))
            ThreePointArc((-162.5, -9), (-160, -6.5), (-157.5, -9))
        make_face()
    extrude(amount=-MIRROR2_COPY_7_DEPTH, mode=Mode.SUBTRACT)


solid = part.part
